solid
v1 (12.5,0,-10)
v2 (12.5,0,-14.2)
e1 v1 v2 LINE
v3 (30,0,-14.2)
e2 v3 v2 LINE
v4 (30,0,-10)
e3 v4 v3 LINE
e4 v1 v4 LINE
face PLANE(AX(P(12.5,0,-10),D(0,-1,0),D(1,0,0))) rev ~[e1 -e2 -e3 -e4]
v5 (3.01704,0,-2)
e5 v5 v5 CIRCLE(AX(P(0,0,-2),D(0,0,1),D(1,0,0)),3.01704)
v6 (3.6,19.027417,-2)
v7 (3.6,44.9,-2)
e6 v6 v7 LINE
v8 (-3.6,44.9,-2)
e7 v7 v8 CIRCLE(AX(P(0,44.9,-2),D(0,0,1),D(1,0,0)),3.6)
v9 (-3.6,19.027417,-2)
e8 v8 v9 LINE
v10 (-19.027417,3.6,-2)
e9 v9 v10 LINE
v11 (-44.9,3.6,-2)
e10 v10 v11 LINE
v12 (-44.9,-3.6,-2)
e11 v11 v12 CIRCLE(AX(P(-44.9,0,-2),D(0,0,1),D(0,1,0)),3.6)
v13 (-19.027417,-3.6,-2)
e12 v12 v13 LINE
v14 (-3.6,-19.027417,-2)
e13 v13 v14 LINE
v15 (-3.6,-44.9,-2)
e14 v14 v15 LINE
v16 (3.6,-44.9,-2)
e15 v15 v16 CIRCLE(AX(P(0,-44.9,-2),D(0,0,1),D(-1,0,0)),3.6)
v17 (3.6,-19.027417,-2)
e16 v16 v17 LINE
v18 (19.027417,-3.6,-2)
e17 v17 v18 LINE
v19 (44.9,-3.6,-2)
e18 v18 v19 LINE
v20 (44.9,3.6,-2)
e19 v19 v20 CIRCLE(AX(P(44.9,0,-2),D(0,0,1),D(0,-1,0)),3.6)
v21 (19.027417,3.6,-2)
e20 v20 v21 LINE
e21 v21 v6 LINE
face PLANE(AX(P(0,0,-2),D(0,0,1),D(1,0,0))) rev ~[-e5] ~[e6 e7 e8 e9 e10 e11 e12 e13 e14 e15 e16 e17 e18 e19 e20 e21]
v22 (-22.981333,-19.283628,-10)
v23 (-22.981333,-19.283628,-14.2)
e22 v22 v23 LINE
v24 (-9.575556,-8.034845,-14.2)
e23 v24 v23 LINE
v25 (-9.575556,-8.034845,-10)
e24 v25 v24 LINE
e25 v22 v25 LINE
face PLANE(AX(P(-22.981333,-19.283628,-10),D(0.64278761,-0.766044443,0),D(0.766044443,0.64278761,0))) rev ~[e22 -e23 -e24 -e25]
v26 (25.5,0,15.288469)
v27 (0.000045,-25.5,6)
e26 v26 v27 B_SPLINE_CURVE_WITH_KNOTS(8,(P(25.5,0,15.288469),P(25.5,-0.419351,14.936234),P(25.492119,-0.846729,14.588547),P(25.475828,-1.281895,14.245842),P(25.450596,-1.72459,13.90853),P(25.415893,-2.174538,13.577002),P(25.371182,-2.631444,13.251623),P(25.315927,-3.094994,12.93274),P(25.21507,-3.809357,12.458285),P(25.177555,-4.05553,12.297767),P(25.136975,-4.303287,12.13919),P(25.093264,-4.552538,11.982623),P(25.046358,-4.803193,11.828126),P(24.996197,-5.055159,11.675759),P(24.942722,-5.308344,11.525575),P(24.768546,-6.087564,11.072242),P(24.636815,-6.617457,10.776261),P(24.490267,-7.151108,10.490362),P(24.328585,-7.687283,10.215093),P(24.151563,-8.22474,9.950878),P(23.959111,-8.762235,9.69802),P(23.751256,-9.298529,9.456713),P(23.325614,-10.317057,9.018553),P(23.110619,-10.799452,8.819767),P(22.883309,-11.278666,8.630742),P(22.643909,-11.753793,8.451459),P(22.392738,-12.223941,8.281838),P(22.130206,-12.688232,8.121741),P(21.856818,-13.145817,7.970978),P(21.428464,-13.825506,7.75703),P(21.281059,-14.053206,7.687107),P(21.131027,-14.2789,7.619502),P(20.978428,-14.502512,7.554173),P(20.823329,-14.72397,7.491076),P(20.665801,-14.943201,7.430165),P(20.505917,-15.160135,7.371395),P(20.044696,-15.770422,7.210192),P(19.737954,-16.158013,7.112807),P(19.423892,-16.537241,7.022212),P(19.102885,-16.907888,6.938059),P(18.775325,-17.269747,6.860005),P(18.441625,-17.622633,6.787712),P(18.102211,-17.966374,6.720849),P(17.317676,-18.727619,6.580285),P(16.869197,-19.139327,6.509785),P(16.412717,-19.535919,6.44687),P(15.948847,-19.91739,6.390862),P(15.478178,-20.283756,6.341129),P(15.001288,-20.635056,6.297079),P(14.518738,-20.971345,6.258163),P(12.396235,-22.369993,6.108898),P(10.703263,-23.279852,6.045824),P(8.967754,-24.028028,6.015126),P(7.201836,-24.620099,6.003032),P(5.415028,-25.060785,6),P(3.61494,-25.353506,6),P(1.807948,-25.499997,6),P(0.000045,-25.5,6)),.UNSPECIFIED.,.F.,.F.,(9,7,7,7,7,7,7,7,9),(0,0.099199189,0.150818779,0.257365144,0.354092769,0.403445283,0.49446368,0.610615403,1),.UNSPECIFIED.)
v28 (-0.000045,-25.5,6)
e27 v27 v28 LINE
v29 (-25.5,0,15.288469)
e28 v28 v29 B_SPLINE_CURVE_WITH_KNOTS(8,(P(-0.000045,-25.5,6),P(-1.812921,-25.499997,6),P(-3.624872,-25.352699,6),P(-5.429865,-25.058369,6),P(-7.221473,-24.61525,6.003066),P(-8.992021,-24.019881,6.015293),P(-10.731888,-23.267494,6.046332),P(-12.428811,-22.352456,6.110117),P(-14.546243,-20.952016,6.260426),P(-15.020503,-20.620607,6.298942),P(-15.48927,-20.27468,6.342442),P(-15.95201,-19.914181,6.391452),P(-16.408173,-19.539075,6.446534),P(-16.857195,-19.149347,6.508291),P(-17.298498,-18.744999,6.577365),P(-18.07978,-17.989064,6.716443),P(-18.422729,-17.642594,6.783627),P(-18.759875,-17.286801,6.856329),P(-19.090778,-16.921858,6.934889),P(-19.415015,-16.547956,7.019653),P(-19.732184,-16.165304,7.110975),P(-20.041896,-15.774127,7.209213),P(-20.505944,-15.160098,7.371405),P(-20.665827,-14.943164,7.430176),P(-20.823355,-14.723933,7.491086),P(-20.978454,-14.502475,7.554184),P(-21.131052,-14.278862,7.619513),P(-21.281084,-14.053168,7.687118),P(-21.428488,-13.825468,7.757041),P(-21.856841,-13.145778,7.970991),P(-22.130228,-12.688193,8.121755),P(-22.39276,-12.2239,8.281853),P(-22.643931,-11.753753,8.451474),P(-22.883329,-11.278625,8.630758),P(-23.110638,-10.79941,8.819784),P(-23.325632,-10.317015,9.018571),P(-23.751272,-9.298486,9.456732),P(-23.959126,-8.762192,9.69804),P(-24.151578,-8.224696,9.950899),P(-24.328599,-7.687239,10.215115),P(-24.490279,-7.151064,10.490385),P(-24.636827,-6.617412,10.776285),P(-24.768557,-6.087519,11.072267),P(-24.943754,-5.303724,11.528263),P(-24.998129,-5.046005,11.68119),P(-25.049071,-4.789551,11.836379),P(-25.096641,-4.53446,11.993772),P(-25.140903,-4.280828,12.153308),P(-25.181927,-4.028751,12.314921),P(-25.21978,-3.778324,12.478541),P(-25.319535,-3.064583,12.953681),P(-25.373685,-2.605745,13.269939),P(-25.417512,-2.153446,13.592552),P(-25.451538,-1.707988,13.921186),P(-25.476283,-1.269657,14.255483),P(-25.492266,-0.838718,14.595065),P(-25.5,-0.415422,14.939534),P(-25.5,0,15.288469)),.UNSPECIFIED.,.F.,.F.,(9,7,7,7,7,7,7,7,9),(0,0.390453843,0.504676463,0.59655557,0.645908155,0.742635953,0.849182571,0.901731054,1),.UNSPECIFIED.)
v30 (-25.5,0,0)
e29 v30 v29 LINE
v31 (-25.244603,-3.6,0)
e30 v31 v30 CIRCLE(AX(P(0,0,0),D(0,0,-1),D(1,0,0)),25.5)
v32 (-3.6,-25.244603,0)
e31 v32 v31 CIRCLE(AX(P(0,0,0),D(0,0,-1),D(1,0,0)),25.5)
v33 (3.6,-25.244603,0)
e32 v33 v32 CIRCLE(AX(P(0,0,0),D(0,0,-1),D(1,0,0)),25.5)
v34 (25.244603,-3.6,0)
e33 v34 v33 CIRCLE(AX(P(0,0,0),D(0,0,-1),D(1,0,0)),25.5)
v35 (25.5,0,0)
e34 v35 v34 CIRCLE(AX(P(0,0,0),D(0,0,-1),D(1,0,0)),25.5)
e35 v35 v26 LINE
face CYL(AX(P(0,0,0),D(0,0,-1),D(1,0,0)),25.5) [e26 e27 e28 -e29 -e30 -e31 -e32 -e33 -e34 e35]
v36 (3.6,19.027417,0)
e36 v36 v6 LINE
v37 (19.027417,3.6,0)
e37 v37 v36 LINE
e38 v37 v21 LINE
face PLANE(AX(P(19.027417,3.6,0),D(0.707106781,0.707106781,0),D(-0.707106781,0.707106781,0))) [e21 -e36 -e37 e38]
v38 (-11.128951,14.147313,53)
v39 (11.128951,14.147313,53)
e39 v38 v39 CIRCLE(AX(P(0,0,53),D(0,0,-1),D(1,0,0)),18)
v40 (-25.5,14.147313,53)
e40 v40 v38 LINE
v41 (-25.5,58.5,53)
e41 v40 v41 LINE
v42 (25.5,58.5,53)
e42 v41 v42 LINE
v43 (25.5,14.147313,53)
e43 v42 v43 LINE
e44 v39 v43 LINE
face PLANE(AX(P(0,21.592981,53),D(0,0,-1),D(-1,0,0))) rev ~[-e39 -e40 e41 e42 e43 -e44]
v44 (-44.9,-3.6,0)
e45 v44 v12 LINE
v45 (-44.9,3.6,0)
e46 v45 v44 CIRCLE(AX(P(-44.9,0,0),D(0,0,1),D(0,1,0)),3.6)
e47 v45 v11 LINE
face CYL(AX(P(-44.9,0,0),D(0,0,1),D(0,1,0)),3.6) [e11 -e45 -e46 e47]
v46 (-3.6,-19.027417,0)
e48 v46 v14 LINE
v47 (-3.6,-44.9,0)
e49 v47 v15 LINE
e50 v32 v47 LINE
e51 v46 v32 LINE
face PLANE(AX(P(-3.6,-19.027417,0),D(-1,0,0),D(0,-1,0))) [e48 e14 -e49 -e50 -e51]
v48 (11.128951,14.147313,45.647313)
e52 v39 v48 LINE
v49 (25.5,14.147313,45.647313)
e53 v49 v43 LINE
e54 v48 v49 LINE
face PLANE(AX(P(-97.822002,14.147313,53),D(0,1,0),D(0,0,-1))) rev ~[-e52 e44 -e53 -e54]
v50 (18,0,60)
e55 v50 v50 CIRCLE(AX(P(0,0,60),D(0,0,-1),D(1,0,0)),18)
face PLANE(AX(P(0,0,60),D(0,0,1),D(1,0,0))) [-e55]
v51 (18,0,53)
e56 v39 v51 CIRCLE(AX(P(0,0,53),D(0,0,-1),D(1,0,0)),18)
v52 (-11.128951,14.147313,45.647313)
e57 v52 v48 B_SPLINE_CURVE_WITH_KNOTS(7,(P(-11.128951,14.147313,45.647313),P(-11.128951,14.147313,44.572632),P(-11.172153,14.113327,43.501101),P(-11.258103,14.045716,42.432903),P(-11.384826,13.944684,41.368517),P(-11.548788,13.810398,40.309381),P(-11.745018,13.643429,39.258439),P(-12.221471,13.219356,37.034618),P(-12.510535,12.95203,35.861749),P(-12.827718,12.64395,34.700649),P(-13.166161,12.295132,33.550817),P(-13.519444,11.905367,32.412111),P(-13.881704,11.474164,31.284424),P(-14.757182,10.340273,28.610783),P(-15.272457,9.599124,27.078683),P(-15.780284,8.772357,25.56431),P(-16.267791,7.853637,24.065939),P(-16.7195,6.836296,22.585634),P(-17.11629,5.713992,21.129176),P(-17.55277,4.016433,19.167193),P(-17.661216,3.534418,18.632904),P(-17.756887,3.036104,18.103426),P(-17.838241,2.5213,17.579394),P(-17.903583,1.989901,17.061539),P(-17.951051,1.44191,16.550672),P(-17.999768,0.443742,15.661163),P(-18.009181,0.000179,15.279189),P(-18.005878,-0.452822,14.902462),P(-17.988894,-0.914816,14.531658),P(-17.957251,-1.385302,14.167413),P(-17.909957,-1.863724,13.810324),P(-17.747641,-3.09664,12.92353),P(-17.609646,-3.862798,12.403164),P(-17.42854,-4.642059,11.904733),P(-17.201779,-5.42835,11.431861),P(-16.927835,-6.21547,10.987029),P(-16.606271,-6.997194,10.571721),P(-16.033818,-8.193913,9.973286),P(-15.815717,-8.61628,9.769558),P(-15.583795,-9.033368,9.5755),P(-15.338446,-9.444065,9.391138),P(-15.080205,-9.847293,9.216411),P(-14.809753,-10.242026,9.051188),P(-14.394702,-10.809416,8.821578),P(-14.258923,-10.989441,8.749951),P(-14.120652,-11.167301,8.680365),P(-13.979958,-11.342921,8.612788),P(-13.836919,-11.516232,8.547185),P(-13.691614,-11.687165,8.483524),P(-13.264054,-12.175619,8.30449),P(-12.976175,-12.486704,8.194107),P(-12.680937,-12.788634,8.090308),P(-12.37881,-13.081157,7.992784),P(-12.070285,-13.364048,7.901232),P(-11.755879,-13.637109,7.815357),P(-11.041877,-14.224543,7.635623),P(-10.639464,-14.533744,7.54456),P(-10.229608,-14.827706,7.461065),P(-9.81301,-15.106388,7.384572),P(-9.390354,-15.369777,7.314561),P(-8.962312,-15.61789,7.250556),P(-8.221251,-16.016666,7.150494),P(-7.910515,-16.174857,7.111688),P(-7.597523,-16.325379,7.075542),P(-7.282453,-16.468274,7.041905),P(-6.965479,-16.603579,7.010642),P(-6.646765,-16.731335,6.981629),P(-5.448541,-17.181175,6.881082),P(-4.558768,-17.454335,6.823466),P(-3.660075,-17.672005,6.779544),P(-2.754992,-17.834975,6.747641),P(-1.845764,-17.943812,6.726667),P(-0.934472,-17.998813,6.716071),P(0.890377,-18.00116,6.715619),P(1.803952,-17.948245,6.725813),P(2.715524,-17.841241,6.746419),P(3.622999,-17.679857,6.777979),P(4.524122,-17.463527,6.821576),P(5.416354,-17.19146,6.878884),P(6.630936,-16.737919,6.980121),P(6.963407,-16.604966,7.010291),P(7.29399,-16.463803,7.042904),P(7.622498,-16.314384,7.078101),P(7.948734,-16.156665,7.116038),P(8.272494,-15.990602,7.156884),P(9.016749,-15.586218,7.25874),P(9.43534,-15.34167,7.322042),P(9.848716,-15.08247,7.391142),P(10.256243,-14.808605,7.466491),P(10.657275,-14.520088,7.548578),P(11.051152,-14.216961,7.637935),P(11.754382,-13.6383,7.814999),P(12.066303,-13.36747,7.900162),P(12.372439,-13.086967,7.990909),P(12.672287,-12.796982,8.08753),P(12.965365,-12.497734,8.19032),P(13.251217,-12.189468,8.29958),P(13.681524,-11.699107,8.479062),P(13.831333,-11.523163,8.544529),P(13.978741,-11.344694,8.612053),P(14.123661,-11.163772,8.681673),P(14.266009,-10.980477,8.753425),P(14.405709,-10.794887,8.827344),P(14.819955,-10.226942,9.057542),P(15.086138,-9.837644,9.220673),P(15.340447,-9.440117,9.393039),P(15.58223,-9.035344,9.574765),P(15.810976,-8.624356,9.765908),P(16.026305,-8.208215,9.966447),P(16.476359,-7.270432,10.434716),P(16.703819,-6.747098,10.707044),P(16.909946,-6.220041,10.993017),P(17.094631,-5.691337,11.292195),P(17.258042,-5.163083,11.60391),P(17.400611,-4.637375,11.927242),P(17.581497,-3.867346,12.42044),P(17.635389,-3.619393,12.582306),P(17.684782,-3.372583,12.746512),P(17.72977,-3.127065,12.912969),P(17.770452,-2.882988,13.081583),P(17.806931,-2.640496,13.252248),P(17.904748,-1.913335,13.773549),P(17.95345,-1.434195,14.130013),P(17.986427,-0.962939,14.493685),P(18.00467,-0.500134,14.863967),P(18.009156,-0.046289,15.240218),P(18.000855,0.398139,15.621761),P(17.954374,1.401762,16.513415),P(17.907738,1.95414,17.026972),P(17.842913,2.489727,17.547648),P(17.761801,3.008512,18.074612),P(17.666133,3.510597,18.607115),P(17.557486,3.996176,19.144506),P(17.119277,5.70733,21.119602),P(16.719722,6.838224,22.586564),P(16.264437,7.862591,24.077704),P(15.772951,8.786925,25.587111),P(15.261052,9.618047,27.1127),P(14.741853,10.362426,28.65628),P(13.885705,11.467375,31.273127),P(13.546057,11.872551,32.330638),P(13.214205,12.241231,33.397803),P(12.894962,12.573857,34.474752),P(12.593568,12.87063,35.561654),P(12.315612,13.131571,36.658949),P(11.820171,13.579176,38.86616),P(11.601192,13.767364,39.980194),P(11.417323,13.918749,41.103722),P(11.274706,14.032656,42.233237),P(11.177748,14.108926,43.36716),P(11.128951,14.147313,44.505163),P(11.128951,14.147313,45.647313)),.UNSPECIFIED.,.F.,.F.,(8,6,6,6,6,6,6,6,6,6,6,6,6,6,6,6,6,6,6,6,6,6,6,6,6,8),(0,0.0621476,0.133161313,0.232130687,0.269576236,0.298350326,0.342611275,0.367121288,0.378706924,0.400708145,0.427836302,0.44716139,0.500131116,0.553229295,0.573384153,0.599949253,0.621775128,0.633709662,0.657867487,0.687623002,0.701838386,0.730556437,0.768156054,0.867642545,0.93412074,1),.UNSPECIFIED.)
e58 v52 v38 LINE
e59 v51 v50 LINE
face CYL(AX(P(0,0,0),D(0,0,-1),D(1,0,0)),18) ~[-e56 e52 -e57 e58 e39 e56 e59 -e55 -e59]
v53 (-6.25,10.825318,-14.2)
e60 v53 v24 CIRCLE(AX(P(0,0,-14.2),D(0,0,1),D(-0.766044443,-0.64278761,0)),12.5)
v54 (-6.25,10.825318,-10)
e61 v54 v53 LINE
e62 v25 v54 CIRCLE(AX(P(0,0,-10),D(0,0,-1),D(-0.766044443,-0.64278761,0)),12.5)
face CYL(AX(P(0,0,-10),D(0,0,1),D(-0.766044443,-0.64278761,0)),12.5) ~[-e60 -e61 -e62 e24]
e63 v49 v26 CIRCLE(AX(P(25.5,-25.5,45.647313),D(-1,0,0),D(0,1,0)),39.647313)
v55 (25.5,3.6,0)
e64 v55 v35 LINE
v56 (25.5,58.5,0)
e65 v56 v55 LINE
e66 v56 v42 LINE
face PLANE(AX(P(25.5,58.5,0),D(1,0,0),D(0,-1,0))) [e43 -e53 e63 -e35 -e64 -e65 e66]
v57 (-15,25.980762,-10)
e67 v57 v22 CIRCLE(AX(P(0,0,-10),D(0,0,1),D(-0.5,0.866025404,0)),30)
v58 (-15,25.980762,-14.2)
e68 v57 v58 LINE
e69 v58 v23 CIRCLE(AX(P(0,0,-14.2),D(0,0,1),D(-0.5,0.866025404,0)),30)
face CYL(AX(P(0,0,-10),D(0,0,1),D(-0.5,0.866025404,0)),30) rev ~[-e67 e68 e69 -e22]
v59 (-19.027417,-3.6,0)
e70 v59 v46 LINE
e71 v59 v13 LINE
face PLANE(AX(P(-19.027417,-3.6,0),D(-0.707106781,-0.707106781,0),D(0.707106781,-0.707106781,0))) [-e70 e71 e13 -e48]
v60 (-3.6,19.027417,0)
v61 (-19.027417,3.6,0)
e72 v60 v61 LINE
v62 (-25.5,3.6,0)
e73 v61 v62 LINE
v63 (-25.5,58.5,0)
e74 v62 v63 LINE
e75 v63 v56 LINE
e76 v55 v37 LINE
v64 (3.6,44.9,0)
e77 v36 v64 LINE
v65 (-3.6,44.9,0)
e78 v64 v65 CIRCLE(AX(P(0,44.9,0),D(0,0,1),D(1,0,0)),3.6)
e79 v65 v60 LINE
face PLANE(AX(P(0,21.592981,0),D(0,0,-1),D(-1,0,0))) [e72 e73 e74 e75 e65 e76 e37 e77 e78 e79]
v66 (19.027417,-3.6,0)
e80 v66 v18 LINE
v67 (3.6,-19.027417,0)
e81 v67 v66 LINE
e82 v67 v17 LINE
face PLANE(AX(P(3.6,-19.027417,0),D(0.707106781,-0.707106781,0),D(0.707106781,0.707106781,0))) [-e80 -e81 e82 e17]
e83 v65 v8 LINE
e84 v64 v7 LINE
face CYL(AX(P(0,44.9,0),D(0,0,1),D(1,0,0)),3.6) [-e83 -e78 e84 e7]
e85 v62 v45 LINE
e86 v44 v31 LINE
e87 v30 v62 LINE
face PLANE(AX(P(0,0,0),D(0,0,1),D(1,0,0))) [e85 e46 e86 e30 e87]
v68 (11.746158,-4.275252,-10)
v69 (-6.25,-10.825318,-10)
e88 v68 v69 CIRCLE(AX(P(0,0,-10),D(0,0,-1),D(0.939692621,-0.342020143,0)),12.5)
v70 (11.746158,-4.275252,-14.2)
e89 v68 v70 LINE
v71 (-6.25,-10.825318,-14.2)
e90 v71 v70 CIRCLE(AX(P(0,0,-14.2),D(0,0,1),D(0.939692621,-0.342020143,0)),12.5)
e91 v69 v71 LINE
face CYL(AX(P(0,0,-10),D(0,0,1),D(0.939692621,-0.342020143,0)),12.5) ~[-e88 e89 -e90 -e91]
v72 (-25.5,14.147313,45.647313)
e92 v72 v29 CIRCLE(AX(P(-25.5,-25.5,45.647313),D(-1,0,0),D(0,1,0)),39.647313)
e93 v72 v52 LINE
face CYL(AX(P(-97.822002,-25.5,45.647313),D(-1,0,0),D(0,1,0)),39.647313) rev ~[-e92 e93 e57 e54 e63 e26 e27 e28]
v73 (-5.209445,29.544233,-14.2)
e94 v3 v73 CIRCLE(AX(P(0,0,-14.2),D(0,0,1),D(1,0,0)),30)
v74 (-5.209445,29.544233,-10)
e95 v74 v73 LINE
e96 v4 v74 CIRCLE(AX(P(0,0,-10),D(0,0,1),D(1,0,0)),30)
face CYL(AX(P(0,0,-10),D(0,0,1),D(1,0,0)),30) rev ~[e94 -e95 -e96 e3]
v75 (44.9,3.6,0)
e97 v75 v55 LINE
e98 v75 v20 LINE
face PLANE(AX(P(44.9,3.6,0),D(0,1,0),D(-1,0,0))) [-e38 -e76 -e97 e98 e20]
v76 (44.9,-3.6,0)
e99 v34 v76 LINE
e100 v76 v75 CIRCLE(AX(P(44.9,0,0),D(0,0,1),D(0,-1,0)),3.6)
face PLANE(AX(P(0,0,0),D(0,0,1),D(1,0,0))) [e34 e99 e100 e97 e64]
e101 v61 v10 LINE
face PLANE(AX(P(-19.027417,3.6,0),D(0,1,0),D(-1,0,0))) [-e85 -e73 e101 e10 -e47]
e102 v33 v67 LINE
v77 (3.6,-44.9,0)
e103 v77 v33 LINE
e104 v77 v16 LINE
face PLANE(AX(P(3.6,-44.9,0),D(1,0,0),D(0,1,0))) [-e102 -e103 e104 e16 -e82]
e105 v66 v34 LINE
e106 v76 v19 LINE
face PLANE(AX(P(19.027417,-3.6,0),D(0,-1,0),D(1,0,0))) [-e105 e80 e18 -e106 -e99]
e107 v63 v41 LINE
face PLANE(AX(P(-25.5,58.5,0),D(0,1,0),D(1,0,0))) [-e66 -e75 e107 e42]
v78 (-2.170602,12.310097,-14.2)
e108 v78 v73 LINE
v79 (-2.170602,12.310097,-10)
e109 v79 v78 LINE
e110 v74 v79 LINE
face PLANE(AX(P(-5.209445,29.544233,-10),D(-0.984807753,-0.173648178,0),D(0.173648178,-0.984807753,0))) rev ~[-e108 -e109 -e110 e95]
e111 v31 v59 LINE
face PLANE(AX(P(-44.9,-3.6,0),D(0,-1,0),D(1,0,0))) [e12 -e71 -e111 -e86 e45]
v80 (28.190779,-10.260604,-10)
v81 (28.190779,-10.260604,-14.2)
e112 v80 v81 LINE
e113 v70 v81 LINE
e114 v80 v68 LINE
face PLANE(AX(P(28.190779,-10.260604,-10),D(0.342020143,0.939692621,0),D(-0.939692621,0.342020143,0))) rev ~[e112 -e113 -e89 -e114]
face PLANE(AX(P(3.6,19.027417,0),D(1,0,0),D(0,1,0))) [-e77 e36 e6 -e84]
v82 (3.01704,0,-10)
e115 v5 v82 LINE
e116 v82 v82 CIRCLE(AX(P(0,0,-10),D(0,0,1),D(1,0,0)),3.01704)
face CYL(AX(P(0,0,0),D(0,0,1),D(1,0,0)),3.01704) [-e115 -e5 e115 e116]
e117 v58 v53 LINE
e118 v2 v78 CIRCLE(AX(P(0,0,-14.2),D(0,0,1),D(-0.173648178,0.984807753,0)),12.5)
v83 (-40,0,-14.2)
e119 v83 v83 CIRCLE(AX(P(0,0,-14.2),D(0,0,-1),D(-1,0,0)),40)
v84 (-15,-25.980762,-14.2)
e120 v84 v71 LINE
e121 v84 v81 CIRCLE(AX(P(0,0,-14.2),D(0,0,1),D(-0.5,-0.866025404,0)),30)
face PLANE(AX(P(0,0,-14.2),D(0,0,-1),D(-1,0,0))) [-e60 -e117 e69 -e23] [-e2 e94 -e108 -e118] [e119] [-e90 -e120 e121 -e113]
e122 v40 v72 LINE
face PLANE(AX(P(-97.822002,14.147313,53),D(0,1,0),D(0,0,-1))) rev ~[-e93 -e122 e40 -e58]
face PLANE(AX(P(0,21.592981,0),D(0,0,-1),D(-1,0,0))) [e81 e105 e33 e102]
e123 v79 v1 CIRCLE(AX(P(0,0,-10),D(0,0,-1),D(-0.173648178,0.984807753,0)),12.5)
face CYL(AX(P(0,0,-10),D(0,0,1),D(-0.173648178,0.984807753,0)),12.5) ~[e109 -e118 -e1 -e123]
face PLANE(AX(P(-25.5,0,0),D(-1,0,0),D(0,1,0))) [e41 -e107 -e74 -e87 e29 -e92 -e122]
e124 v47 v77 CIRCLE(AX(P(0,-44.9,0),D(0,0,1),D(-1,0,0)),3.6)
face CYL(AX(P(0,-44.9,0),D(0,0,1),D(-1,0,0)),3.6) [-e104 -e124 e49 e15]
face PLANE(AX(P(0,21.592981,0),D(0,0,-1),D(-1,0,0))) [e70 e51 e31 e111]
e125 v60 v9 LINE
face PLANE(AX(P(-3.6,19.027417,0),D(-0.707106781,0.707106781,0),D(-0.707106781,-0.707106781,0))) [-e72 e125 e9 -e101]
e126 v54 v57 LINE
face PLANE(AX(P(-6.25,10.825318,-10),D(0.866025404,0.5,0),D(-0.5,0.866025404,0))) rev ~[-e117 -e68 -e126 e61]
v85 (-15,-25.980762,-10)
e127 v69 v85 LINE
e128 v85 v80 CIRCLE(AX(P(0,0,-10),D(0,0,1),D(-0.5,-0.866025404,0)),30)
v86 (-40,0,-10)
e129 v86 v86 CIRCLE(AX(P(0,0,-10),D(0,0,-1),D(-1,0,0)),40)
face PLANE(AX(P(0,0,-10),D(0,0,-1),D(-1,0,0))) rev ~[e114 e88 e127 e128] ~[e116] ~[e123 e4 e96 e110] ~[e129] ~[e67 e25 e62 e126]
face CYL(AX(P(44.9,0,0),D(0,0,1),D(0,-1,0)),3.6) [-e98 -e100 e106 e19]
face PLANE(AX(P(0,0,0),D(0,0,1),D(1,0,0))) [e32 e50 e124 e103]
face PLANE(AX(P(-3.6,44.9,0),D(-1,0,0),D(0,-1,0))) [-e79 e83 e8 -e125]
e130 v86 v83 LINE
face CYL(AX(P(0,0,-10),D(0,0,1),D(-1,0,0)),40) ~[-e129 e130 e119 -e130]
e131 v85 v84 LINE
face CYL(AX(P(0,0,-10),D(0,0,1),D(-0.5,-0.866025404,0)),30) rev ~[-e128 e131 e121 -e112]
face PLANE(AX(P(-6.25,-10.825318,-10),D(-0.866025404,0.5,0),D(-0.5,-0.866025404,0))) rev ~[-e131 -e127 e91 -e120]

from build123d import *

# Parameters (mm, degrees)
SKETCH2_R               = 18
BOSS_EXTRUDE1_DEPTH     = 60
BOSS_EXTRUDE2_DEPTH     = 53
BOSS_EXTRUDE3_DEPTH     = 2
CUT_EXTRUDE3_DEPTH      = 97.822001632
CUT_EXTRUDE3_DEPTH_BACK = 97.822001632
BOSS_EXTRUDE4_START     = -56
SKETCH6_R               = 18
BOSS_EXTRUDE4_DEPTH     = 56
SKETCH8_R               = 3.017040472
BOSS_EXTRUDE5_DEPTH     = 10
SKETCH9_R               = 40
BOSS_EXTRUDE6_DEPTH     = 4.2
CUT_EXTRUDE4_DEPTH      = 104.317471969
CIRPATTERN1_COUNT       = 3


with BuildPart() as part:
    # Sketch2 → Boss-Extrude1 (new body)
    with BuildSketch(Plane.XY):
        Circle(SKETCH2_R)
    extrude(amount=BOSS_EXTRUDE1_DEPTH)

    # Sketch3 → Boss-Extrude2 (add)
    with BuildSketch(Plane.XY):
        with BuildLine():
            Line((-25.5, 0), (-25.5, 58.5))
            Line((-25.5, 58.5), (25.5, 58.5))
            Line((25.5, 58.5), (25.5, 0))
            ThreePointArc((25.5, 0), (0, -25.5), (-25.5, 0))
        make_face()
    extrude(amount=BOSS_EXTRUDE2_DEPTH)

    # Sketch4 → Boss-Extrude3 (add)
    with BuildSketch(Plane.XY):
        with BuildLine():
            Line((-3.6, 19.027416998), (-19.027416998, 3.6))
            Line((-19.027416998, 3.6), (-44.9, 3.6))
            ThreePointArc((-44.9, 3.6), (-48.5, 0), (-44.9, -3.6))
            Line((-44.9, -3.6), (-19.027416998, -3.6))
            Line((-19.027416998, -3.6), (-3.6, -19.027416998))
            Line((-3.6, -19.027416998), (-3.6, -44.9))
            ThreePointArc((-3.6, -44.9), (0, -48.5), (3.6, -44.9))
            Line((3.6, -44.9), (3.6, -19.027416998))
            Line((3.6, -19.027416998), (19.027416998, -3.6))
            Line((19.027416998, -3.6), (44.9, -3.6))
            ThreePointArc((44.9, -3.6), (48.5, 0), (44.9, 3.6))
            Line((44.9, 3.6), (19.027416998, 3.6))
            Line((19.027416998, 3.6), (3.6, 19.027416998))
            Line((3.6, 19.027416998), (3.6, 44.9))
            ThreePointArc((3.6, 44.9), (0, 48.5), (-3.6, 44.9))
            Line((-3.6, 44.9), (-3.6, 19.027416998))
        make_face()
    extrude(amount=-BOSS_EXTRUDE3_DEPTH)

    # Sketch5 → Cut-Extrude3 (cut, two sides: drawn at the far end of the back side and taken through both)
    with BuildSketch(Plane(origin=(0, 0, 0), x_dir=(0, 0, -1), z_dir=(1, 0, 0)).offset(-CUT_EXTRUDE3_DEPTH_BACK)):
        with BuildLine():
            Line((-53, 14.147312787), (-45.647312787, 14.147312787))
            ThreePointArc((-45.647312787, 14.147312787), (-17.612429059, 2.534883727), (-6, -25.5))
            Line((-6, -25.5), (-53, -25.5))
            Line((-53, -25.5), (-53, 14.147312787))
        make_face()
    extrude(amount=CUT_EXTRUDE3_DEPTH + CUT_EXTRUDE3_DEPTH_BACK, mode=Mode.SUBTRACT)

    # Sketch6 → Boss-Extrude4 (add)
    with BuildSketch(Plane.XY.offset(60).offset(BOSS_EXTRUDE4_START)):
        Circle(SKETCH6_R)
    extrude(amount=BOSS_EXTRUDE4_DEPTH)

    # Sketch8 → Boss-Extrude5 (add)
    with BuildSketch(Plane.XY):
        Circle(SKETCH8_R)
    extrude(amount=-BOSS_EXTRUDE5_DEPTH)

    # Sketch9 → Boss-Extrude6 (add)
    with BuildSketch(Plane(origin=(0, 0, -10), x_dir=(-1, 0, 0), z_dir=(0, 0, -1))):
        Circle(SKETCH9_R)
    extrude(amount=BOSS_EXTRUDE6_DEPTH)

    # Sketch11 → Cut-Extrude4 (cut, through all)
    with BuildSketch(Plane.XY.offset(-10)):
        with BuildLine():
            Line((12.5, 0), (30, 0))
            ThreePointArc((30, 0), (19.283628291, 22.981333294), (-5.20944533, 29.54423259))
            Line((-5.20944533, 29.54423259), (-2.170602221, 12.310096913))
            ThreePointArc((-2.170602221, 12.310096913), (8.034845121, 9.575555539), (12.5, 0))
        make_face()
    cut_extrude4 = extrude(amount=-CUT_EXTRUDE4_DEPTH, mode=Mode.SUBTRACT)

    # CirPattern1: Cut-Extrude4 ×3 about axis
    cirpattern1_axis = Axis((0, 0, -10), (0, 0, 1))
    for i in range(1, CIRPATTERN1_COUNT):
        add(cut_extrude4.rotate(cirpattern1_axis, i * 360 / CIRPATTERN1_COUNT), mode=Mode.SUBTRACT)


solid = part.part
